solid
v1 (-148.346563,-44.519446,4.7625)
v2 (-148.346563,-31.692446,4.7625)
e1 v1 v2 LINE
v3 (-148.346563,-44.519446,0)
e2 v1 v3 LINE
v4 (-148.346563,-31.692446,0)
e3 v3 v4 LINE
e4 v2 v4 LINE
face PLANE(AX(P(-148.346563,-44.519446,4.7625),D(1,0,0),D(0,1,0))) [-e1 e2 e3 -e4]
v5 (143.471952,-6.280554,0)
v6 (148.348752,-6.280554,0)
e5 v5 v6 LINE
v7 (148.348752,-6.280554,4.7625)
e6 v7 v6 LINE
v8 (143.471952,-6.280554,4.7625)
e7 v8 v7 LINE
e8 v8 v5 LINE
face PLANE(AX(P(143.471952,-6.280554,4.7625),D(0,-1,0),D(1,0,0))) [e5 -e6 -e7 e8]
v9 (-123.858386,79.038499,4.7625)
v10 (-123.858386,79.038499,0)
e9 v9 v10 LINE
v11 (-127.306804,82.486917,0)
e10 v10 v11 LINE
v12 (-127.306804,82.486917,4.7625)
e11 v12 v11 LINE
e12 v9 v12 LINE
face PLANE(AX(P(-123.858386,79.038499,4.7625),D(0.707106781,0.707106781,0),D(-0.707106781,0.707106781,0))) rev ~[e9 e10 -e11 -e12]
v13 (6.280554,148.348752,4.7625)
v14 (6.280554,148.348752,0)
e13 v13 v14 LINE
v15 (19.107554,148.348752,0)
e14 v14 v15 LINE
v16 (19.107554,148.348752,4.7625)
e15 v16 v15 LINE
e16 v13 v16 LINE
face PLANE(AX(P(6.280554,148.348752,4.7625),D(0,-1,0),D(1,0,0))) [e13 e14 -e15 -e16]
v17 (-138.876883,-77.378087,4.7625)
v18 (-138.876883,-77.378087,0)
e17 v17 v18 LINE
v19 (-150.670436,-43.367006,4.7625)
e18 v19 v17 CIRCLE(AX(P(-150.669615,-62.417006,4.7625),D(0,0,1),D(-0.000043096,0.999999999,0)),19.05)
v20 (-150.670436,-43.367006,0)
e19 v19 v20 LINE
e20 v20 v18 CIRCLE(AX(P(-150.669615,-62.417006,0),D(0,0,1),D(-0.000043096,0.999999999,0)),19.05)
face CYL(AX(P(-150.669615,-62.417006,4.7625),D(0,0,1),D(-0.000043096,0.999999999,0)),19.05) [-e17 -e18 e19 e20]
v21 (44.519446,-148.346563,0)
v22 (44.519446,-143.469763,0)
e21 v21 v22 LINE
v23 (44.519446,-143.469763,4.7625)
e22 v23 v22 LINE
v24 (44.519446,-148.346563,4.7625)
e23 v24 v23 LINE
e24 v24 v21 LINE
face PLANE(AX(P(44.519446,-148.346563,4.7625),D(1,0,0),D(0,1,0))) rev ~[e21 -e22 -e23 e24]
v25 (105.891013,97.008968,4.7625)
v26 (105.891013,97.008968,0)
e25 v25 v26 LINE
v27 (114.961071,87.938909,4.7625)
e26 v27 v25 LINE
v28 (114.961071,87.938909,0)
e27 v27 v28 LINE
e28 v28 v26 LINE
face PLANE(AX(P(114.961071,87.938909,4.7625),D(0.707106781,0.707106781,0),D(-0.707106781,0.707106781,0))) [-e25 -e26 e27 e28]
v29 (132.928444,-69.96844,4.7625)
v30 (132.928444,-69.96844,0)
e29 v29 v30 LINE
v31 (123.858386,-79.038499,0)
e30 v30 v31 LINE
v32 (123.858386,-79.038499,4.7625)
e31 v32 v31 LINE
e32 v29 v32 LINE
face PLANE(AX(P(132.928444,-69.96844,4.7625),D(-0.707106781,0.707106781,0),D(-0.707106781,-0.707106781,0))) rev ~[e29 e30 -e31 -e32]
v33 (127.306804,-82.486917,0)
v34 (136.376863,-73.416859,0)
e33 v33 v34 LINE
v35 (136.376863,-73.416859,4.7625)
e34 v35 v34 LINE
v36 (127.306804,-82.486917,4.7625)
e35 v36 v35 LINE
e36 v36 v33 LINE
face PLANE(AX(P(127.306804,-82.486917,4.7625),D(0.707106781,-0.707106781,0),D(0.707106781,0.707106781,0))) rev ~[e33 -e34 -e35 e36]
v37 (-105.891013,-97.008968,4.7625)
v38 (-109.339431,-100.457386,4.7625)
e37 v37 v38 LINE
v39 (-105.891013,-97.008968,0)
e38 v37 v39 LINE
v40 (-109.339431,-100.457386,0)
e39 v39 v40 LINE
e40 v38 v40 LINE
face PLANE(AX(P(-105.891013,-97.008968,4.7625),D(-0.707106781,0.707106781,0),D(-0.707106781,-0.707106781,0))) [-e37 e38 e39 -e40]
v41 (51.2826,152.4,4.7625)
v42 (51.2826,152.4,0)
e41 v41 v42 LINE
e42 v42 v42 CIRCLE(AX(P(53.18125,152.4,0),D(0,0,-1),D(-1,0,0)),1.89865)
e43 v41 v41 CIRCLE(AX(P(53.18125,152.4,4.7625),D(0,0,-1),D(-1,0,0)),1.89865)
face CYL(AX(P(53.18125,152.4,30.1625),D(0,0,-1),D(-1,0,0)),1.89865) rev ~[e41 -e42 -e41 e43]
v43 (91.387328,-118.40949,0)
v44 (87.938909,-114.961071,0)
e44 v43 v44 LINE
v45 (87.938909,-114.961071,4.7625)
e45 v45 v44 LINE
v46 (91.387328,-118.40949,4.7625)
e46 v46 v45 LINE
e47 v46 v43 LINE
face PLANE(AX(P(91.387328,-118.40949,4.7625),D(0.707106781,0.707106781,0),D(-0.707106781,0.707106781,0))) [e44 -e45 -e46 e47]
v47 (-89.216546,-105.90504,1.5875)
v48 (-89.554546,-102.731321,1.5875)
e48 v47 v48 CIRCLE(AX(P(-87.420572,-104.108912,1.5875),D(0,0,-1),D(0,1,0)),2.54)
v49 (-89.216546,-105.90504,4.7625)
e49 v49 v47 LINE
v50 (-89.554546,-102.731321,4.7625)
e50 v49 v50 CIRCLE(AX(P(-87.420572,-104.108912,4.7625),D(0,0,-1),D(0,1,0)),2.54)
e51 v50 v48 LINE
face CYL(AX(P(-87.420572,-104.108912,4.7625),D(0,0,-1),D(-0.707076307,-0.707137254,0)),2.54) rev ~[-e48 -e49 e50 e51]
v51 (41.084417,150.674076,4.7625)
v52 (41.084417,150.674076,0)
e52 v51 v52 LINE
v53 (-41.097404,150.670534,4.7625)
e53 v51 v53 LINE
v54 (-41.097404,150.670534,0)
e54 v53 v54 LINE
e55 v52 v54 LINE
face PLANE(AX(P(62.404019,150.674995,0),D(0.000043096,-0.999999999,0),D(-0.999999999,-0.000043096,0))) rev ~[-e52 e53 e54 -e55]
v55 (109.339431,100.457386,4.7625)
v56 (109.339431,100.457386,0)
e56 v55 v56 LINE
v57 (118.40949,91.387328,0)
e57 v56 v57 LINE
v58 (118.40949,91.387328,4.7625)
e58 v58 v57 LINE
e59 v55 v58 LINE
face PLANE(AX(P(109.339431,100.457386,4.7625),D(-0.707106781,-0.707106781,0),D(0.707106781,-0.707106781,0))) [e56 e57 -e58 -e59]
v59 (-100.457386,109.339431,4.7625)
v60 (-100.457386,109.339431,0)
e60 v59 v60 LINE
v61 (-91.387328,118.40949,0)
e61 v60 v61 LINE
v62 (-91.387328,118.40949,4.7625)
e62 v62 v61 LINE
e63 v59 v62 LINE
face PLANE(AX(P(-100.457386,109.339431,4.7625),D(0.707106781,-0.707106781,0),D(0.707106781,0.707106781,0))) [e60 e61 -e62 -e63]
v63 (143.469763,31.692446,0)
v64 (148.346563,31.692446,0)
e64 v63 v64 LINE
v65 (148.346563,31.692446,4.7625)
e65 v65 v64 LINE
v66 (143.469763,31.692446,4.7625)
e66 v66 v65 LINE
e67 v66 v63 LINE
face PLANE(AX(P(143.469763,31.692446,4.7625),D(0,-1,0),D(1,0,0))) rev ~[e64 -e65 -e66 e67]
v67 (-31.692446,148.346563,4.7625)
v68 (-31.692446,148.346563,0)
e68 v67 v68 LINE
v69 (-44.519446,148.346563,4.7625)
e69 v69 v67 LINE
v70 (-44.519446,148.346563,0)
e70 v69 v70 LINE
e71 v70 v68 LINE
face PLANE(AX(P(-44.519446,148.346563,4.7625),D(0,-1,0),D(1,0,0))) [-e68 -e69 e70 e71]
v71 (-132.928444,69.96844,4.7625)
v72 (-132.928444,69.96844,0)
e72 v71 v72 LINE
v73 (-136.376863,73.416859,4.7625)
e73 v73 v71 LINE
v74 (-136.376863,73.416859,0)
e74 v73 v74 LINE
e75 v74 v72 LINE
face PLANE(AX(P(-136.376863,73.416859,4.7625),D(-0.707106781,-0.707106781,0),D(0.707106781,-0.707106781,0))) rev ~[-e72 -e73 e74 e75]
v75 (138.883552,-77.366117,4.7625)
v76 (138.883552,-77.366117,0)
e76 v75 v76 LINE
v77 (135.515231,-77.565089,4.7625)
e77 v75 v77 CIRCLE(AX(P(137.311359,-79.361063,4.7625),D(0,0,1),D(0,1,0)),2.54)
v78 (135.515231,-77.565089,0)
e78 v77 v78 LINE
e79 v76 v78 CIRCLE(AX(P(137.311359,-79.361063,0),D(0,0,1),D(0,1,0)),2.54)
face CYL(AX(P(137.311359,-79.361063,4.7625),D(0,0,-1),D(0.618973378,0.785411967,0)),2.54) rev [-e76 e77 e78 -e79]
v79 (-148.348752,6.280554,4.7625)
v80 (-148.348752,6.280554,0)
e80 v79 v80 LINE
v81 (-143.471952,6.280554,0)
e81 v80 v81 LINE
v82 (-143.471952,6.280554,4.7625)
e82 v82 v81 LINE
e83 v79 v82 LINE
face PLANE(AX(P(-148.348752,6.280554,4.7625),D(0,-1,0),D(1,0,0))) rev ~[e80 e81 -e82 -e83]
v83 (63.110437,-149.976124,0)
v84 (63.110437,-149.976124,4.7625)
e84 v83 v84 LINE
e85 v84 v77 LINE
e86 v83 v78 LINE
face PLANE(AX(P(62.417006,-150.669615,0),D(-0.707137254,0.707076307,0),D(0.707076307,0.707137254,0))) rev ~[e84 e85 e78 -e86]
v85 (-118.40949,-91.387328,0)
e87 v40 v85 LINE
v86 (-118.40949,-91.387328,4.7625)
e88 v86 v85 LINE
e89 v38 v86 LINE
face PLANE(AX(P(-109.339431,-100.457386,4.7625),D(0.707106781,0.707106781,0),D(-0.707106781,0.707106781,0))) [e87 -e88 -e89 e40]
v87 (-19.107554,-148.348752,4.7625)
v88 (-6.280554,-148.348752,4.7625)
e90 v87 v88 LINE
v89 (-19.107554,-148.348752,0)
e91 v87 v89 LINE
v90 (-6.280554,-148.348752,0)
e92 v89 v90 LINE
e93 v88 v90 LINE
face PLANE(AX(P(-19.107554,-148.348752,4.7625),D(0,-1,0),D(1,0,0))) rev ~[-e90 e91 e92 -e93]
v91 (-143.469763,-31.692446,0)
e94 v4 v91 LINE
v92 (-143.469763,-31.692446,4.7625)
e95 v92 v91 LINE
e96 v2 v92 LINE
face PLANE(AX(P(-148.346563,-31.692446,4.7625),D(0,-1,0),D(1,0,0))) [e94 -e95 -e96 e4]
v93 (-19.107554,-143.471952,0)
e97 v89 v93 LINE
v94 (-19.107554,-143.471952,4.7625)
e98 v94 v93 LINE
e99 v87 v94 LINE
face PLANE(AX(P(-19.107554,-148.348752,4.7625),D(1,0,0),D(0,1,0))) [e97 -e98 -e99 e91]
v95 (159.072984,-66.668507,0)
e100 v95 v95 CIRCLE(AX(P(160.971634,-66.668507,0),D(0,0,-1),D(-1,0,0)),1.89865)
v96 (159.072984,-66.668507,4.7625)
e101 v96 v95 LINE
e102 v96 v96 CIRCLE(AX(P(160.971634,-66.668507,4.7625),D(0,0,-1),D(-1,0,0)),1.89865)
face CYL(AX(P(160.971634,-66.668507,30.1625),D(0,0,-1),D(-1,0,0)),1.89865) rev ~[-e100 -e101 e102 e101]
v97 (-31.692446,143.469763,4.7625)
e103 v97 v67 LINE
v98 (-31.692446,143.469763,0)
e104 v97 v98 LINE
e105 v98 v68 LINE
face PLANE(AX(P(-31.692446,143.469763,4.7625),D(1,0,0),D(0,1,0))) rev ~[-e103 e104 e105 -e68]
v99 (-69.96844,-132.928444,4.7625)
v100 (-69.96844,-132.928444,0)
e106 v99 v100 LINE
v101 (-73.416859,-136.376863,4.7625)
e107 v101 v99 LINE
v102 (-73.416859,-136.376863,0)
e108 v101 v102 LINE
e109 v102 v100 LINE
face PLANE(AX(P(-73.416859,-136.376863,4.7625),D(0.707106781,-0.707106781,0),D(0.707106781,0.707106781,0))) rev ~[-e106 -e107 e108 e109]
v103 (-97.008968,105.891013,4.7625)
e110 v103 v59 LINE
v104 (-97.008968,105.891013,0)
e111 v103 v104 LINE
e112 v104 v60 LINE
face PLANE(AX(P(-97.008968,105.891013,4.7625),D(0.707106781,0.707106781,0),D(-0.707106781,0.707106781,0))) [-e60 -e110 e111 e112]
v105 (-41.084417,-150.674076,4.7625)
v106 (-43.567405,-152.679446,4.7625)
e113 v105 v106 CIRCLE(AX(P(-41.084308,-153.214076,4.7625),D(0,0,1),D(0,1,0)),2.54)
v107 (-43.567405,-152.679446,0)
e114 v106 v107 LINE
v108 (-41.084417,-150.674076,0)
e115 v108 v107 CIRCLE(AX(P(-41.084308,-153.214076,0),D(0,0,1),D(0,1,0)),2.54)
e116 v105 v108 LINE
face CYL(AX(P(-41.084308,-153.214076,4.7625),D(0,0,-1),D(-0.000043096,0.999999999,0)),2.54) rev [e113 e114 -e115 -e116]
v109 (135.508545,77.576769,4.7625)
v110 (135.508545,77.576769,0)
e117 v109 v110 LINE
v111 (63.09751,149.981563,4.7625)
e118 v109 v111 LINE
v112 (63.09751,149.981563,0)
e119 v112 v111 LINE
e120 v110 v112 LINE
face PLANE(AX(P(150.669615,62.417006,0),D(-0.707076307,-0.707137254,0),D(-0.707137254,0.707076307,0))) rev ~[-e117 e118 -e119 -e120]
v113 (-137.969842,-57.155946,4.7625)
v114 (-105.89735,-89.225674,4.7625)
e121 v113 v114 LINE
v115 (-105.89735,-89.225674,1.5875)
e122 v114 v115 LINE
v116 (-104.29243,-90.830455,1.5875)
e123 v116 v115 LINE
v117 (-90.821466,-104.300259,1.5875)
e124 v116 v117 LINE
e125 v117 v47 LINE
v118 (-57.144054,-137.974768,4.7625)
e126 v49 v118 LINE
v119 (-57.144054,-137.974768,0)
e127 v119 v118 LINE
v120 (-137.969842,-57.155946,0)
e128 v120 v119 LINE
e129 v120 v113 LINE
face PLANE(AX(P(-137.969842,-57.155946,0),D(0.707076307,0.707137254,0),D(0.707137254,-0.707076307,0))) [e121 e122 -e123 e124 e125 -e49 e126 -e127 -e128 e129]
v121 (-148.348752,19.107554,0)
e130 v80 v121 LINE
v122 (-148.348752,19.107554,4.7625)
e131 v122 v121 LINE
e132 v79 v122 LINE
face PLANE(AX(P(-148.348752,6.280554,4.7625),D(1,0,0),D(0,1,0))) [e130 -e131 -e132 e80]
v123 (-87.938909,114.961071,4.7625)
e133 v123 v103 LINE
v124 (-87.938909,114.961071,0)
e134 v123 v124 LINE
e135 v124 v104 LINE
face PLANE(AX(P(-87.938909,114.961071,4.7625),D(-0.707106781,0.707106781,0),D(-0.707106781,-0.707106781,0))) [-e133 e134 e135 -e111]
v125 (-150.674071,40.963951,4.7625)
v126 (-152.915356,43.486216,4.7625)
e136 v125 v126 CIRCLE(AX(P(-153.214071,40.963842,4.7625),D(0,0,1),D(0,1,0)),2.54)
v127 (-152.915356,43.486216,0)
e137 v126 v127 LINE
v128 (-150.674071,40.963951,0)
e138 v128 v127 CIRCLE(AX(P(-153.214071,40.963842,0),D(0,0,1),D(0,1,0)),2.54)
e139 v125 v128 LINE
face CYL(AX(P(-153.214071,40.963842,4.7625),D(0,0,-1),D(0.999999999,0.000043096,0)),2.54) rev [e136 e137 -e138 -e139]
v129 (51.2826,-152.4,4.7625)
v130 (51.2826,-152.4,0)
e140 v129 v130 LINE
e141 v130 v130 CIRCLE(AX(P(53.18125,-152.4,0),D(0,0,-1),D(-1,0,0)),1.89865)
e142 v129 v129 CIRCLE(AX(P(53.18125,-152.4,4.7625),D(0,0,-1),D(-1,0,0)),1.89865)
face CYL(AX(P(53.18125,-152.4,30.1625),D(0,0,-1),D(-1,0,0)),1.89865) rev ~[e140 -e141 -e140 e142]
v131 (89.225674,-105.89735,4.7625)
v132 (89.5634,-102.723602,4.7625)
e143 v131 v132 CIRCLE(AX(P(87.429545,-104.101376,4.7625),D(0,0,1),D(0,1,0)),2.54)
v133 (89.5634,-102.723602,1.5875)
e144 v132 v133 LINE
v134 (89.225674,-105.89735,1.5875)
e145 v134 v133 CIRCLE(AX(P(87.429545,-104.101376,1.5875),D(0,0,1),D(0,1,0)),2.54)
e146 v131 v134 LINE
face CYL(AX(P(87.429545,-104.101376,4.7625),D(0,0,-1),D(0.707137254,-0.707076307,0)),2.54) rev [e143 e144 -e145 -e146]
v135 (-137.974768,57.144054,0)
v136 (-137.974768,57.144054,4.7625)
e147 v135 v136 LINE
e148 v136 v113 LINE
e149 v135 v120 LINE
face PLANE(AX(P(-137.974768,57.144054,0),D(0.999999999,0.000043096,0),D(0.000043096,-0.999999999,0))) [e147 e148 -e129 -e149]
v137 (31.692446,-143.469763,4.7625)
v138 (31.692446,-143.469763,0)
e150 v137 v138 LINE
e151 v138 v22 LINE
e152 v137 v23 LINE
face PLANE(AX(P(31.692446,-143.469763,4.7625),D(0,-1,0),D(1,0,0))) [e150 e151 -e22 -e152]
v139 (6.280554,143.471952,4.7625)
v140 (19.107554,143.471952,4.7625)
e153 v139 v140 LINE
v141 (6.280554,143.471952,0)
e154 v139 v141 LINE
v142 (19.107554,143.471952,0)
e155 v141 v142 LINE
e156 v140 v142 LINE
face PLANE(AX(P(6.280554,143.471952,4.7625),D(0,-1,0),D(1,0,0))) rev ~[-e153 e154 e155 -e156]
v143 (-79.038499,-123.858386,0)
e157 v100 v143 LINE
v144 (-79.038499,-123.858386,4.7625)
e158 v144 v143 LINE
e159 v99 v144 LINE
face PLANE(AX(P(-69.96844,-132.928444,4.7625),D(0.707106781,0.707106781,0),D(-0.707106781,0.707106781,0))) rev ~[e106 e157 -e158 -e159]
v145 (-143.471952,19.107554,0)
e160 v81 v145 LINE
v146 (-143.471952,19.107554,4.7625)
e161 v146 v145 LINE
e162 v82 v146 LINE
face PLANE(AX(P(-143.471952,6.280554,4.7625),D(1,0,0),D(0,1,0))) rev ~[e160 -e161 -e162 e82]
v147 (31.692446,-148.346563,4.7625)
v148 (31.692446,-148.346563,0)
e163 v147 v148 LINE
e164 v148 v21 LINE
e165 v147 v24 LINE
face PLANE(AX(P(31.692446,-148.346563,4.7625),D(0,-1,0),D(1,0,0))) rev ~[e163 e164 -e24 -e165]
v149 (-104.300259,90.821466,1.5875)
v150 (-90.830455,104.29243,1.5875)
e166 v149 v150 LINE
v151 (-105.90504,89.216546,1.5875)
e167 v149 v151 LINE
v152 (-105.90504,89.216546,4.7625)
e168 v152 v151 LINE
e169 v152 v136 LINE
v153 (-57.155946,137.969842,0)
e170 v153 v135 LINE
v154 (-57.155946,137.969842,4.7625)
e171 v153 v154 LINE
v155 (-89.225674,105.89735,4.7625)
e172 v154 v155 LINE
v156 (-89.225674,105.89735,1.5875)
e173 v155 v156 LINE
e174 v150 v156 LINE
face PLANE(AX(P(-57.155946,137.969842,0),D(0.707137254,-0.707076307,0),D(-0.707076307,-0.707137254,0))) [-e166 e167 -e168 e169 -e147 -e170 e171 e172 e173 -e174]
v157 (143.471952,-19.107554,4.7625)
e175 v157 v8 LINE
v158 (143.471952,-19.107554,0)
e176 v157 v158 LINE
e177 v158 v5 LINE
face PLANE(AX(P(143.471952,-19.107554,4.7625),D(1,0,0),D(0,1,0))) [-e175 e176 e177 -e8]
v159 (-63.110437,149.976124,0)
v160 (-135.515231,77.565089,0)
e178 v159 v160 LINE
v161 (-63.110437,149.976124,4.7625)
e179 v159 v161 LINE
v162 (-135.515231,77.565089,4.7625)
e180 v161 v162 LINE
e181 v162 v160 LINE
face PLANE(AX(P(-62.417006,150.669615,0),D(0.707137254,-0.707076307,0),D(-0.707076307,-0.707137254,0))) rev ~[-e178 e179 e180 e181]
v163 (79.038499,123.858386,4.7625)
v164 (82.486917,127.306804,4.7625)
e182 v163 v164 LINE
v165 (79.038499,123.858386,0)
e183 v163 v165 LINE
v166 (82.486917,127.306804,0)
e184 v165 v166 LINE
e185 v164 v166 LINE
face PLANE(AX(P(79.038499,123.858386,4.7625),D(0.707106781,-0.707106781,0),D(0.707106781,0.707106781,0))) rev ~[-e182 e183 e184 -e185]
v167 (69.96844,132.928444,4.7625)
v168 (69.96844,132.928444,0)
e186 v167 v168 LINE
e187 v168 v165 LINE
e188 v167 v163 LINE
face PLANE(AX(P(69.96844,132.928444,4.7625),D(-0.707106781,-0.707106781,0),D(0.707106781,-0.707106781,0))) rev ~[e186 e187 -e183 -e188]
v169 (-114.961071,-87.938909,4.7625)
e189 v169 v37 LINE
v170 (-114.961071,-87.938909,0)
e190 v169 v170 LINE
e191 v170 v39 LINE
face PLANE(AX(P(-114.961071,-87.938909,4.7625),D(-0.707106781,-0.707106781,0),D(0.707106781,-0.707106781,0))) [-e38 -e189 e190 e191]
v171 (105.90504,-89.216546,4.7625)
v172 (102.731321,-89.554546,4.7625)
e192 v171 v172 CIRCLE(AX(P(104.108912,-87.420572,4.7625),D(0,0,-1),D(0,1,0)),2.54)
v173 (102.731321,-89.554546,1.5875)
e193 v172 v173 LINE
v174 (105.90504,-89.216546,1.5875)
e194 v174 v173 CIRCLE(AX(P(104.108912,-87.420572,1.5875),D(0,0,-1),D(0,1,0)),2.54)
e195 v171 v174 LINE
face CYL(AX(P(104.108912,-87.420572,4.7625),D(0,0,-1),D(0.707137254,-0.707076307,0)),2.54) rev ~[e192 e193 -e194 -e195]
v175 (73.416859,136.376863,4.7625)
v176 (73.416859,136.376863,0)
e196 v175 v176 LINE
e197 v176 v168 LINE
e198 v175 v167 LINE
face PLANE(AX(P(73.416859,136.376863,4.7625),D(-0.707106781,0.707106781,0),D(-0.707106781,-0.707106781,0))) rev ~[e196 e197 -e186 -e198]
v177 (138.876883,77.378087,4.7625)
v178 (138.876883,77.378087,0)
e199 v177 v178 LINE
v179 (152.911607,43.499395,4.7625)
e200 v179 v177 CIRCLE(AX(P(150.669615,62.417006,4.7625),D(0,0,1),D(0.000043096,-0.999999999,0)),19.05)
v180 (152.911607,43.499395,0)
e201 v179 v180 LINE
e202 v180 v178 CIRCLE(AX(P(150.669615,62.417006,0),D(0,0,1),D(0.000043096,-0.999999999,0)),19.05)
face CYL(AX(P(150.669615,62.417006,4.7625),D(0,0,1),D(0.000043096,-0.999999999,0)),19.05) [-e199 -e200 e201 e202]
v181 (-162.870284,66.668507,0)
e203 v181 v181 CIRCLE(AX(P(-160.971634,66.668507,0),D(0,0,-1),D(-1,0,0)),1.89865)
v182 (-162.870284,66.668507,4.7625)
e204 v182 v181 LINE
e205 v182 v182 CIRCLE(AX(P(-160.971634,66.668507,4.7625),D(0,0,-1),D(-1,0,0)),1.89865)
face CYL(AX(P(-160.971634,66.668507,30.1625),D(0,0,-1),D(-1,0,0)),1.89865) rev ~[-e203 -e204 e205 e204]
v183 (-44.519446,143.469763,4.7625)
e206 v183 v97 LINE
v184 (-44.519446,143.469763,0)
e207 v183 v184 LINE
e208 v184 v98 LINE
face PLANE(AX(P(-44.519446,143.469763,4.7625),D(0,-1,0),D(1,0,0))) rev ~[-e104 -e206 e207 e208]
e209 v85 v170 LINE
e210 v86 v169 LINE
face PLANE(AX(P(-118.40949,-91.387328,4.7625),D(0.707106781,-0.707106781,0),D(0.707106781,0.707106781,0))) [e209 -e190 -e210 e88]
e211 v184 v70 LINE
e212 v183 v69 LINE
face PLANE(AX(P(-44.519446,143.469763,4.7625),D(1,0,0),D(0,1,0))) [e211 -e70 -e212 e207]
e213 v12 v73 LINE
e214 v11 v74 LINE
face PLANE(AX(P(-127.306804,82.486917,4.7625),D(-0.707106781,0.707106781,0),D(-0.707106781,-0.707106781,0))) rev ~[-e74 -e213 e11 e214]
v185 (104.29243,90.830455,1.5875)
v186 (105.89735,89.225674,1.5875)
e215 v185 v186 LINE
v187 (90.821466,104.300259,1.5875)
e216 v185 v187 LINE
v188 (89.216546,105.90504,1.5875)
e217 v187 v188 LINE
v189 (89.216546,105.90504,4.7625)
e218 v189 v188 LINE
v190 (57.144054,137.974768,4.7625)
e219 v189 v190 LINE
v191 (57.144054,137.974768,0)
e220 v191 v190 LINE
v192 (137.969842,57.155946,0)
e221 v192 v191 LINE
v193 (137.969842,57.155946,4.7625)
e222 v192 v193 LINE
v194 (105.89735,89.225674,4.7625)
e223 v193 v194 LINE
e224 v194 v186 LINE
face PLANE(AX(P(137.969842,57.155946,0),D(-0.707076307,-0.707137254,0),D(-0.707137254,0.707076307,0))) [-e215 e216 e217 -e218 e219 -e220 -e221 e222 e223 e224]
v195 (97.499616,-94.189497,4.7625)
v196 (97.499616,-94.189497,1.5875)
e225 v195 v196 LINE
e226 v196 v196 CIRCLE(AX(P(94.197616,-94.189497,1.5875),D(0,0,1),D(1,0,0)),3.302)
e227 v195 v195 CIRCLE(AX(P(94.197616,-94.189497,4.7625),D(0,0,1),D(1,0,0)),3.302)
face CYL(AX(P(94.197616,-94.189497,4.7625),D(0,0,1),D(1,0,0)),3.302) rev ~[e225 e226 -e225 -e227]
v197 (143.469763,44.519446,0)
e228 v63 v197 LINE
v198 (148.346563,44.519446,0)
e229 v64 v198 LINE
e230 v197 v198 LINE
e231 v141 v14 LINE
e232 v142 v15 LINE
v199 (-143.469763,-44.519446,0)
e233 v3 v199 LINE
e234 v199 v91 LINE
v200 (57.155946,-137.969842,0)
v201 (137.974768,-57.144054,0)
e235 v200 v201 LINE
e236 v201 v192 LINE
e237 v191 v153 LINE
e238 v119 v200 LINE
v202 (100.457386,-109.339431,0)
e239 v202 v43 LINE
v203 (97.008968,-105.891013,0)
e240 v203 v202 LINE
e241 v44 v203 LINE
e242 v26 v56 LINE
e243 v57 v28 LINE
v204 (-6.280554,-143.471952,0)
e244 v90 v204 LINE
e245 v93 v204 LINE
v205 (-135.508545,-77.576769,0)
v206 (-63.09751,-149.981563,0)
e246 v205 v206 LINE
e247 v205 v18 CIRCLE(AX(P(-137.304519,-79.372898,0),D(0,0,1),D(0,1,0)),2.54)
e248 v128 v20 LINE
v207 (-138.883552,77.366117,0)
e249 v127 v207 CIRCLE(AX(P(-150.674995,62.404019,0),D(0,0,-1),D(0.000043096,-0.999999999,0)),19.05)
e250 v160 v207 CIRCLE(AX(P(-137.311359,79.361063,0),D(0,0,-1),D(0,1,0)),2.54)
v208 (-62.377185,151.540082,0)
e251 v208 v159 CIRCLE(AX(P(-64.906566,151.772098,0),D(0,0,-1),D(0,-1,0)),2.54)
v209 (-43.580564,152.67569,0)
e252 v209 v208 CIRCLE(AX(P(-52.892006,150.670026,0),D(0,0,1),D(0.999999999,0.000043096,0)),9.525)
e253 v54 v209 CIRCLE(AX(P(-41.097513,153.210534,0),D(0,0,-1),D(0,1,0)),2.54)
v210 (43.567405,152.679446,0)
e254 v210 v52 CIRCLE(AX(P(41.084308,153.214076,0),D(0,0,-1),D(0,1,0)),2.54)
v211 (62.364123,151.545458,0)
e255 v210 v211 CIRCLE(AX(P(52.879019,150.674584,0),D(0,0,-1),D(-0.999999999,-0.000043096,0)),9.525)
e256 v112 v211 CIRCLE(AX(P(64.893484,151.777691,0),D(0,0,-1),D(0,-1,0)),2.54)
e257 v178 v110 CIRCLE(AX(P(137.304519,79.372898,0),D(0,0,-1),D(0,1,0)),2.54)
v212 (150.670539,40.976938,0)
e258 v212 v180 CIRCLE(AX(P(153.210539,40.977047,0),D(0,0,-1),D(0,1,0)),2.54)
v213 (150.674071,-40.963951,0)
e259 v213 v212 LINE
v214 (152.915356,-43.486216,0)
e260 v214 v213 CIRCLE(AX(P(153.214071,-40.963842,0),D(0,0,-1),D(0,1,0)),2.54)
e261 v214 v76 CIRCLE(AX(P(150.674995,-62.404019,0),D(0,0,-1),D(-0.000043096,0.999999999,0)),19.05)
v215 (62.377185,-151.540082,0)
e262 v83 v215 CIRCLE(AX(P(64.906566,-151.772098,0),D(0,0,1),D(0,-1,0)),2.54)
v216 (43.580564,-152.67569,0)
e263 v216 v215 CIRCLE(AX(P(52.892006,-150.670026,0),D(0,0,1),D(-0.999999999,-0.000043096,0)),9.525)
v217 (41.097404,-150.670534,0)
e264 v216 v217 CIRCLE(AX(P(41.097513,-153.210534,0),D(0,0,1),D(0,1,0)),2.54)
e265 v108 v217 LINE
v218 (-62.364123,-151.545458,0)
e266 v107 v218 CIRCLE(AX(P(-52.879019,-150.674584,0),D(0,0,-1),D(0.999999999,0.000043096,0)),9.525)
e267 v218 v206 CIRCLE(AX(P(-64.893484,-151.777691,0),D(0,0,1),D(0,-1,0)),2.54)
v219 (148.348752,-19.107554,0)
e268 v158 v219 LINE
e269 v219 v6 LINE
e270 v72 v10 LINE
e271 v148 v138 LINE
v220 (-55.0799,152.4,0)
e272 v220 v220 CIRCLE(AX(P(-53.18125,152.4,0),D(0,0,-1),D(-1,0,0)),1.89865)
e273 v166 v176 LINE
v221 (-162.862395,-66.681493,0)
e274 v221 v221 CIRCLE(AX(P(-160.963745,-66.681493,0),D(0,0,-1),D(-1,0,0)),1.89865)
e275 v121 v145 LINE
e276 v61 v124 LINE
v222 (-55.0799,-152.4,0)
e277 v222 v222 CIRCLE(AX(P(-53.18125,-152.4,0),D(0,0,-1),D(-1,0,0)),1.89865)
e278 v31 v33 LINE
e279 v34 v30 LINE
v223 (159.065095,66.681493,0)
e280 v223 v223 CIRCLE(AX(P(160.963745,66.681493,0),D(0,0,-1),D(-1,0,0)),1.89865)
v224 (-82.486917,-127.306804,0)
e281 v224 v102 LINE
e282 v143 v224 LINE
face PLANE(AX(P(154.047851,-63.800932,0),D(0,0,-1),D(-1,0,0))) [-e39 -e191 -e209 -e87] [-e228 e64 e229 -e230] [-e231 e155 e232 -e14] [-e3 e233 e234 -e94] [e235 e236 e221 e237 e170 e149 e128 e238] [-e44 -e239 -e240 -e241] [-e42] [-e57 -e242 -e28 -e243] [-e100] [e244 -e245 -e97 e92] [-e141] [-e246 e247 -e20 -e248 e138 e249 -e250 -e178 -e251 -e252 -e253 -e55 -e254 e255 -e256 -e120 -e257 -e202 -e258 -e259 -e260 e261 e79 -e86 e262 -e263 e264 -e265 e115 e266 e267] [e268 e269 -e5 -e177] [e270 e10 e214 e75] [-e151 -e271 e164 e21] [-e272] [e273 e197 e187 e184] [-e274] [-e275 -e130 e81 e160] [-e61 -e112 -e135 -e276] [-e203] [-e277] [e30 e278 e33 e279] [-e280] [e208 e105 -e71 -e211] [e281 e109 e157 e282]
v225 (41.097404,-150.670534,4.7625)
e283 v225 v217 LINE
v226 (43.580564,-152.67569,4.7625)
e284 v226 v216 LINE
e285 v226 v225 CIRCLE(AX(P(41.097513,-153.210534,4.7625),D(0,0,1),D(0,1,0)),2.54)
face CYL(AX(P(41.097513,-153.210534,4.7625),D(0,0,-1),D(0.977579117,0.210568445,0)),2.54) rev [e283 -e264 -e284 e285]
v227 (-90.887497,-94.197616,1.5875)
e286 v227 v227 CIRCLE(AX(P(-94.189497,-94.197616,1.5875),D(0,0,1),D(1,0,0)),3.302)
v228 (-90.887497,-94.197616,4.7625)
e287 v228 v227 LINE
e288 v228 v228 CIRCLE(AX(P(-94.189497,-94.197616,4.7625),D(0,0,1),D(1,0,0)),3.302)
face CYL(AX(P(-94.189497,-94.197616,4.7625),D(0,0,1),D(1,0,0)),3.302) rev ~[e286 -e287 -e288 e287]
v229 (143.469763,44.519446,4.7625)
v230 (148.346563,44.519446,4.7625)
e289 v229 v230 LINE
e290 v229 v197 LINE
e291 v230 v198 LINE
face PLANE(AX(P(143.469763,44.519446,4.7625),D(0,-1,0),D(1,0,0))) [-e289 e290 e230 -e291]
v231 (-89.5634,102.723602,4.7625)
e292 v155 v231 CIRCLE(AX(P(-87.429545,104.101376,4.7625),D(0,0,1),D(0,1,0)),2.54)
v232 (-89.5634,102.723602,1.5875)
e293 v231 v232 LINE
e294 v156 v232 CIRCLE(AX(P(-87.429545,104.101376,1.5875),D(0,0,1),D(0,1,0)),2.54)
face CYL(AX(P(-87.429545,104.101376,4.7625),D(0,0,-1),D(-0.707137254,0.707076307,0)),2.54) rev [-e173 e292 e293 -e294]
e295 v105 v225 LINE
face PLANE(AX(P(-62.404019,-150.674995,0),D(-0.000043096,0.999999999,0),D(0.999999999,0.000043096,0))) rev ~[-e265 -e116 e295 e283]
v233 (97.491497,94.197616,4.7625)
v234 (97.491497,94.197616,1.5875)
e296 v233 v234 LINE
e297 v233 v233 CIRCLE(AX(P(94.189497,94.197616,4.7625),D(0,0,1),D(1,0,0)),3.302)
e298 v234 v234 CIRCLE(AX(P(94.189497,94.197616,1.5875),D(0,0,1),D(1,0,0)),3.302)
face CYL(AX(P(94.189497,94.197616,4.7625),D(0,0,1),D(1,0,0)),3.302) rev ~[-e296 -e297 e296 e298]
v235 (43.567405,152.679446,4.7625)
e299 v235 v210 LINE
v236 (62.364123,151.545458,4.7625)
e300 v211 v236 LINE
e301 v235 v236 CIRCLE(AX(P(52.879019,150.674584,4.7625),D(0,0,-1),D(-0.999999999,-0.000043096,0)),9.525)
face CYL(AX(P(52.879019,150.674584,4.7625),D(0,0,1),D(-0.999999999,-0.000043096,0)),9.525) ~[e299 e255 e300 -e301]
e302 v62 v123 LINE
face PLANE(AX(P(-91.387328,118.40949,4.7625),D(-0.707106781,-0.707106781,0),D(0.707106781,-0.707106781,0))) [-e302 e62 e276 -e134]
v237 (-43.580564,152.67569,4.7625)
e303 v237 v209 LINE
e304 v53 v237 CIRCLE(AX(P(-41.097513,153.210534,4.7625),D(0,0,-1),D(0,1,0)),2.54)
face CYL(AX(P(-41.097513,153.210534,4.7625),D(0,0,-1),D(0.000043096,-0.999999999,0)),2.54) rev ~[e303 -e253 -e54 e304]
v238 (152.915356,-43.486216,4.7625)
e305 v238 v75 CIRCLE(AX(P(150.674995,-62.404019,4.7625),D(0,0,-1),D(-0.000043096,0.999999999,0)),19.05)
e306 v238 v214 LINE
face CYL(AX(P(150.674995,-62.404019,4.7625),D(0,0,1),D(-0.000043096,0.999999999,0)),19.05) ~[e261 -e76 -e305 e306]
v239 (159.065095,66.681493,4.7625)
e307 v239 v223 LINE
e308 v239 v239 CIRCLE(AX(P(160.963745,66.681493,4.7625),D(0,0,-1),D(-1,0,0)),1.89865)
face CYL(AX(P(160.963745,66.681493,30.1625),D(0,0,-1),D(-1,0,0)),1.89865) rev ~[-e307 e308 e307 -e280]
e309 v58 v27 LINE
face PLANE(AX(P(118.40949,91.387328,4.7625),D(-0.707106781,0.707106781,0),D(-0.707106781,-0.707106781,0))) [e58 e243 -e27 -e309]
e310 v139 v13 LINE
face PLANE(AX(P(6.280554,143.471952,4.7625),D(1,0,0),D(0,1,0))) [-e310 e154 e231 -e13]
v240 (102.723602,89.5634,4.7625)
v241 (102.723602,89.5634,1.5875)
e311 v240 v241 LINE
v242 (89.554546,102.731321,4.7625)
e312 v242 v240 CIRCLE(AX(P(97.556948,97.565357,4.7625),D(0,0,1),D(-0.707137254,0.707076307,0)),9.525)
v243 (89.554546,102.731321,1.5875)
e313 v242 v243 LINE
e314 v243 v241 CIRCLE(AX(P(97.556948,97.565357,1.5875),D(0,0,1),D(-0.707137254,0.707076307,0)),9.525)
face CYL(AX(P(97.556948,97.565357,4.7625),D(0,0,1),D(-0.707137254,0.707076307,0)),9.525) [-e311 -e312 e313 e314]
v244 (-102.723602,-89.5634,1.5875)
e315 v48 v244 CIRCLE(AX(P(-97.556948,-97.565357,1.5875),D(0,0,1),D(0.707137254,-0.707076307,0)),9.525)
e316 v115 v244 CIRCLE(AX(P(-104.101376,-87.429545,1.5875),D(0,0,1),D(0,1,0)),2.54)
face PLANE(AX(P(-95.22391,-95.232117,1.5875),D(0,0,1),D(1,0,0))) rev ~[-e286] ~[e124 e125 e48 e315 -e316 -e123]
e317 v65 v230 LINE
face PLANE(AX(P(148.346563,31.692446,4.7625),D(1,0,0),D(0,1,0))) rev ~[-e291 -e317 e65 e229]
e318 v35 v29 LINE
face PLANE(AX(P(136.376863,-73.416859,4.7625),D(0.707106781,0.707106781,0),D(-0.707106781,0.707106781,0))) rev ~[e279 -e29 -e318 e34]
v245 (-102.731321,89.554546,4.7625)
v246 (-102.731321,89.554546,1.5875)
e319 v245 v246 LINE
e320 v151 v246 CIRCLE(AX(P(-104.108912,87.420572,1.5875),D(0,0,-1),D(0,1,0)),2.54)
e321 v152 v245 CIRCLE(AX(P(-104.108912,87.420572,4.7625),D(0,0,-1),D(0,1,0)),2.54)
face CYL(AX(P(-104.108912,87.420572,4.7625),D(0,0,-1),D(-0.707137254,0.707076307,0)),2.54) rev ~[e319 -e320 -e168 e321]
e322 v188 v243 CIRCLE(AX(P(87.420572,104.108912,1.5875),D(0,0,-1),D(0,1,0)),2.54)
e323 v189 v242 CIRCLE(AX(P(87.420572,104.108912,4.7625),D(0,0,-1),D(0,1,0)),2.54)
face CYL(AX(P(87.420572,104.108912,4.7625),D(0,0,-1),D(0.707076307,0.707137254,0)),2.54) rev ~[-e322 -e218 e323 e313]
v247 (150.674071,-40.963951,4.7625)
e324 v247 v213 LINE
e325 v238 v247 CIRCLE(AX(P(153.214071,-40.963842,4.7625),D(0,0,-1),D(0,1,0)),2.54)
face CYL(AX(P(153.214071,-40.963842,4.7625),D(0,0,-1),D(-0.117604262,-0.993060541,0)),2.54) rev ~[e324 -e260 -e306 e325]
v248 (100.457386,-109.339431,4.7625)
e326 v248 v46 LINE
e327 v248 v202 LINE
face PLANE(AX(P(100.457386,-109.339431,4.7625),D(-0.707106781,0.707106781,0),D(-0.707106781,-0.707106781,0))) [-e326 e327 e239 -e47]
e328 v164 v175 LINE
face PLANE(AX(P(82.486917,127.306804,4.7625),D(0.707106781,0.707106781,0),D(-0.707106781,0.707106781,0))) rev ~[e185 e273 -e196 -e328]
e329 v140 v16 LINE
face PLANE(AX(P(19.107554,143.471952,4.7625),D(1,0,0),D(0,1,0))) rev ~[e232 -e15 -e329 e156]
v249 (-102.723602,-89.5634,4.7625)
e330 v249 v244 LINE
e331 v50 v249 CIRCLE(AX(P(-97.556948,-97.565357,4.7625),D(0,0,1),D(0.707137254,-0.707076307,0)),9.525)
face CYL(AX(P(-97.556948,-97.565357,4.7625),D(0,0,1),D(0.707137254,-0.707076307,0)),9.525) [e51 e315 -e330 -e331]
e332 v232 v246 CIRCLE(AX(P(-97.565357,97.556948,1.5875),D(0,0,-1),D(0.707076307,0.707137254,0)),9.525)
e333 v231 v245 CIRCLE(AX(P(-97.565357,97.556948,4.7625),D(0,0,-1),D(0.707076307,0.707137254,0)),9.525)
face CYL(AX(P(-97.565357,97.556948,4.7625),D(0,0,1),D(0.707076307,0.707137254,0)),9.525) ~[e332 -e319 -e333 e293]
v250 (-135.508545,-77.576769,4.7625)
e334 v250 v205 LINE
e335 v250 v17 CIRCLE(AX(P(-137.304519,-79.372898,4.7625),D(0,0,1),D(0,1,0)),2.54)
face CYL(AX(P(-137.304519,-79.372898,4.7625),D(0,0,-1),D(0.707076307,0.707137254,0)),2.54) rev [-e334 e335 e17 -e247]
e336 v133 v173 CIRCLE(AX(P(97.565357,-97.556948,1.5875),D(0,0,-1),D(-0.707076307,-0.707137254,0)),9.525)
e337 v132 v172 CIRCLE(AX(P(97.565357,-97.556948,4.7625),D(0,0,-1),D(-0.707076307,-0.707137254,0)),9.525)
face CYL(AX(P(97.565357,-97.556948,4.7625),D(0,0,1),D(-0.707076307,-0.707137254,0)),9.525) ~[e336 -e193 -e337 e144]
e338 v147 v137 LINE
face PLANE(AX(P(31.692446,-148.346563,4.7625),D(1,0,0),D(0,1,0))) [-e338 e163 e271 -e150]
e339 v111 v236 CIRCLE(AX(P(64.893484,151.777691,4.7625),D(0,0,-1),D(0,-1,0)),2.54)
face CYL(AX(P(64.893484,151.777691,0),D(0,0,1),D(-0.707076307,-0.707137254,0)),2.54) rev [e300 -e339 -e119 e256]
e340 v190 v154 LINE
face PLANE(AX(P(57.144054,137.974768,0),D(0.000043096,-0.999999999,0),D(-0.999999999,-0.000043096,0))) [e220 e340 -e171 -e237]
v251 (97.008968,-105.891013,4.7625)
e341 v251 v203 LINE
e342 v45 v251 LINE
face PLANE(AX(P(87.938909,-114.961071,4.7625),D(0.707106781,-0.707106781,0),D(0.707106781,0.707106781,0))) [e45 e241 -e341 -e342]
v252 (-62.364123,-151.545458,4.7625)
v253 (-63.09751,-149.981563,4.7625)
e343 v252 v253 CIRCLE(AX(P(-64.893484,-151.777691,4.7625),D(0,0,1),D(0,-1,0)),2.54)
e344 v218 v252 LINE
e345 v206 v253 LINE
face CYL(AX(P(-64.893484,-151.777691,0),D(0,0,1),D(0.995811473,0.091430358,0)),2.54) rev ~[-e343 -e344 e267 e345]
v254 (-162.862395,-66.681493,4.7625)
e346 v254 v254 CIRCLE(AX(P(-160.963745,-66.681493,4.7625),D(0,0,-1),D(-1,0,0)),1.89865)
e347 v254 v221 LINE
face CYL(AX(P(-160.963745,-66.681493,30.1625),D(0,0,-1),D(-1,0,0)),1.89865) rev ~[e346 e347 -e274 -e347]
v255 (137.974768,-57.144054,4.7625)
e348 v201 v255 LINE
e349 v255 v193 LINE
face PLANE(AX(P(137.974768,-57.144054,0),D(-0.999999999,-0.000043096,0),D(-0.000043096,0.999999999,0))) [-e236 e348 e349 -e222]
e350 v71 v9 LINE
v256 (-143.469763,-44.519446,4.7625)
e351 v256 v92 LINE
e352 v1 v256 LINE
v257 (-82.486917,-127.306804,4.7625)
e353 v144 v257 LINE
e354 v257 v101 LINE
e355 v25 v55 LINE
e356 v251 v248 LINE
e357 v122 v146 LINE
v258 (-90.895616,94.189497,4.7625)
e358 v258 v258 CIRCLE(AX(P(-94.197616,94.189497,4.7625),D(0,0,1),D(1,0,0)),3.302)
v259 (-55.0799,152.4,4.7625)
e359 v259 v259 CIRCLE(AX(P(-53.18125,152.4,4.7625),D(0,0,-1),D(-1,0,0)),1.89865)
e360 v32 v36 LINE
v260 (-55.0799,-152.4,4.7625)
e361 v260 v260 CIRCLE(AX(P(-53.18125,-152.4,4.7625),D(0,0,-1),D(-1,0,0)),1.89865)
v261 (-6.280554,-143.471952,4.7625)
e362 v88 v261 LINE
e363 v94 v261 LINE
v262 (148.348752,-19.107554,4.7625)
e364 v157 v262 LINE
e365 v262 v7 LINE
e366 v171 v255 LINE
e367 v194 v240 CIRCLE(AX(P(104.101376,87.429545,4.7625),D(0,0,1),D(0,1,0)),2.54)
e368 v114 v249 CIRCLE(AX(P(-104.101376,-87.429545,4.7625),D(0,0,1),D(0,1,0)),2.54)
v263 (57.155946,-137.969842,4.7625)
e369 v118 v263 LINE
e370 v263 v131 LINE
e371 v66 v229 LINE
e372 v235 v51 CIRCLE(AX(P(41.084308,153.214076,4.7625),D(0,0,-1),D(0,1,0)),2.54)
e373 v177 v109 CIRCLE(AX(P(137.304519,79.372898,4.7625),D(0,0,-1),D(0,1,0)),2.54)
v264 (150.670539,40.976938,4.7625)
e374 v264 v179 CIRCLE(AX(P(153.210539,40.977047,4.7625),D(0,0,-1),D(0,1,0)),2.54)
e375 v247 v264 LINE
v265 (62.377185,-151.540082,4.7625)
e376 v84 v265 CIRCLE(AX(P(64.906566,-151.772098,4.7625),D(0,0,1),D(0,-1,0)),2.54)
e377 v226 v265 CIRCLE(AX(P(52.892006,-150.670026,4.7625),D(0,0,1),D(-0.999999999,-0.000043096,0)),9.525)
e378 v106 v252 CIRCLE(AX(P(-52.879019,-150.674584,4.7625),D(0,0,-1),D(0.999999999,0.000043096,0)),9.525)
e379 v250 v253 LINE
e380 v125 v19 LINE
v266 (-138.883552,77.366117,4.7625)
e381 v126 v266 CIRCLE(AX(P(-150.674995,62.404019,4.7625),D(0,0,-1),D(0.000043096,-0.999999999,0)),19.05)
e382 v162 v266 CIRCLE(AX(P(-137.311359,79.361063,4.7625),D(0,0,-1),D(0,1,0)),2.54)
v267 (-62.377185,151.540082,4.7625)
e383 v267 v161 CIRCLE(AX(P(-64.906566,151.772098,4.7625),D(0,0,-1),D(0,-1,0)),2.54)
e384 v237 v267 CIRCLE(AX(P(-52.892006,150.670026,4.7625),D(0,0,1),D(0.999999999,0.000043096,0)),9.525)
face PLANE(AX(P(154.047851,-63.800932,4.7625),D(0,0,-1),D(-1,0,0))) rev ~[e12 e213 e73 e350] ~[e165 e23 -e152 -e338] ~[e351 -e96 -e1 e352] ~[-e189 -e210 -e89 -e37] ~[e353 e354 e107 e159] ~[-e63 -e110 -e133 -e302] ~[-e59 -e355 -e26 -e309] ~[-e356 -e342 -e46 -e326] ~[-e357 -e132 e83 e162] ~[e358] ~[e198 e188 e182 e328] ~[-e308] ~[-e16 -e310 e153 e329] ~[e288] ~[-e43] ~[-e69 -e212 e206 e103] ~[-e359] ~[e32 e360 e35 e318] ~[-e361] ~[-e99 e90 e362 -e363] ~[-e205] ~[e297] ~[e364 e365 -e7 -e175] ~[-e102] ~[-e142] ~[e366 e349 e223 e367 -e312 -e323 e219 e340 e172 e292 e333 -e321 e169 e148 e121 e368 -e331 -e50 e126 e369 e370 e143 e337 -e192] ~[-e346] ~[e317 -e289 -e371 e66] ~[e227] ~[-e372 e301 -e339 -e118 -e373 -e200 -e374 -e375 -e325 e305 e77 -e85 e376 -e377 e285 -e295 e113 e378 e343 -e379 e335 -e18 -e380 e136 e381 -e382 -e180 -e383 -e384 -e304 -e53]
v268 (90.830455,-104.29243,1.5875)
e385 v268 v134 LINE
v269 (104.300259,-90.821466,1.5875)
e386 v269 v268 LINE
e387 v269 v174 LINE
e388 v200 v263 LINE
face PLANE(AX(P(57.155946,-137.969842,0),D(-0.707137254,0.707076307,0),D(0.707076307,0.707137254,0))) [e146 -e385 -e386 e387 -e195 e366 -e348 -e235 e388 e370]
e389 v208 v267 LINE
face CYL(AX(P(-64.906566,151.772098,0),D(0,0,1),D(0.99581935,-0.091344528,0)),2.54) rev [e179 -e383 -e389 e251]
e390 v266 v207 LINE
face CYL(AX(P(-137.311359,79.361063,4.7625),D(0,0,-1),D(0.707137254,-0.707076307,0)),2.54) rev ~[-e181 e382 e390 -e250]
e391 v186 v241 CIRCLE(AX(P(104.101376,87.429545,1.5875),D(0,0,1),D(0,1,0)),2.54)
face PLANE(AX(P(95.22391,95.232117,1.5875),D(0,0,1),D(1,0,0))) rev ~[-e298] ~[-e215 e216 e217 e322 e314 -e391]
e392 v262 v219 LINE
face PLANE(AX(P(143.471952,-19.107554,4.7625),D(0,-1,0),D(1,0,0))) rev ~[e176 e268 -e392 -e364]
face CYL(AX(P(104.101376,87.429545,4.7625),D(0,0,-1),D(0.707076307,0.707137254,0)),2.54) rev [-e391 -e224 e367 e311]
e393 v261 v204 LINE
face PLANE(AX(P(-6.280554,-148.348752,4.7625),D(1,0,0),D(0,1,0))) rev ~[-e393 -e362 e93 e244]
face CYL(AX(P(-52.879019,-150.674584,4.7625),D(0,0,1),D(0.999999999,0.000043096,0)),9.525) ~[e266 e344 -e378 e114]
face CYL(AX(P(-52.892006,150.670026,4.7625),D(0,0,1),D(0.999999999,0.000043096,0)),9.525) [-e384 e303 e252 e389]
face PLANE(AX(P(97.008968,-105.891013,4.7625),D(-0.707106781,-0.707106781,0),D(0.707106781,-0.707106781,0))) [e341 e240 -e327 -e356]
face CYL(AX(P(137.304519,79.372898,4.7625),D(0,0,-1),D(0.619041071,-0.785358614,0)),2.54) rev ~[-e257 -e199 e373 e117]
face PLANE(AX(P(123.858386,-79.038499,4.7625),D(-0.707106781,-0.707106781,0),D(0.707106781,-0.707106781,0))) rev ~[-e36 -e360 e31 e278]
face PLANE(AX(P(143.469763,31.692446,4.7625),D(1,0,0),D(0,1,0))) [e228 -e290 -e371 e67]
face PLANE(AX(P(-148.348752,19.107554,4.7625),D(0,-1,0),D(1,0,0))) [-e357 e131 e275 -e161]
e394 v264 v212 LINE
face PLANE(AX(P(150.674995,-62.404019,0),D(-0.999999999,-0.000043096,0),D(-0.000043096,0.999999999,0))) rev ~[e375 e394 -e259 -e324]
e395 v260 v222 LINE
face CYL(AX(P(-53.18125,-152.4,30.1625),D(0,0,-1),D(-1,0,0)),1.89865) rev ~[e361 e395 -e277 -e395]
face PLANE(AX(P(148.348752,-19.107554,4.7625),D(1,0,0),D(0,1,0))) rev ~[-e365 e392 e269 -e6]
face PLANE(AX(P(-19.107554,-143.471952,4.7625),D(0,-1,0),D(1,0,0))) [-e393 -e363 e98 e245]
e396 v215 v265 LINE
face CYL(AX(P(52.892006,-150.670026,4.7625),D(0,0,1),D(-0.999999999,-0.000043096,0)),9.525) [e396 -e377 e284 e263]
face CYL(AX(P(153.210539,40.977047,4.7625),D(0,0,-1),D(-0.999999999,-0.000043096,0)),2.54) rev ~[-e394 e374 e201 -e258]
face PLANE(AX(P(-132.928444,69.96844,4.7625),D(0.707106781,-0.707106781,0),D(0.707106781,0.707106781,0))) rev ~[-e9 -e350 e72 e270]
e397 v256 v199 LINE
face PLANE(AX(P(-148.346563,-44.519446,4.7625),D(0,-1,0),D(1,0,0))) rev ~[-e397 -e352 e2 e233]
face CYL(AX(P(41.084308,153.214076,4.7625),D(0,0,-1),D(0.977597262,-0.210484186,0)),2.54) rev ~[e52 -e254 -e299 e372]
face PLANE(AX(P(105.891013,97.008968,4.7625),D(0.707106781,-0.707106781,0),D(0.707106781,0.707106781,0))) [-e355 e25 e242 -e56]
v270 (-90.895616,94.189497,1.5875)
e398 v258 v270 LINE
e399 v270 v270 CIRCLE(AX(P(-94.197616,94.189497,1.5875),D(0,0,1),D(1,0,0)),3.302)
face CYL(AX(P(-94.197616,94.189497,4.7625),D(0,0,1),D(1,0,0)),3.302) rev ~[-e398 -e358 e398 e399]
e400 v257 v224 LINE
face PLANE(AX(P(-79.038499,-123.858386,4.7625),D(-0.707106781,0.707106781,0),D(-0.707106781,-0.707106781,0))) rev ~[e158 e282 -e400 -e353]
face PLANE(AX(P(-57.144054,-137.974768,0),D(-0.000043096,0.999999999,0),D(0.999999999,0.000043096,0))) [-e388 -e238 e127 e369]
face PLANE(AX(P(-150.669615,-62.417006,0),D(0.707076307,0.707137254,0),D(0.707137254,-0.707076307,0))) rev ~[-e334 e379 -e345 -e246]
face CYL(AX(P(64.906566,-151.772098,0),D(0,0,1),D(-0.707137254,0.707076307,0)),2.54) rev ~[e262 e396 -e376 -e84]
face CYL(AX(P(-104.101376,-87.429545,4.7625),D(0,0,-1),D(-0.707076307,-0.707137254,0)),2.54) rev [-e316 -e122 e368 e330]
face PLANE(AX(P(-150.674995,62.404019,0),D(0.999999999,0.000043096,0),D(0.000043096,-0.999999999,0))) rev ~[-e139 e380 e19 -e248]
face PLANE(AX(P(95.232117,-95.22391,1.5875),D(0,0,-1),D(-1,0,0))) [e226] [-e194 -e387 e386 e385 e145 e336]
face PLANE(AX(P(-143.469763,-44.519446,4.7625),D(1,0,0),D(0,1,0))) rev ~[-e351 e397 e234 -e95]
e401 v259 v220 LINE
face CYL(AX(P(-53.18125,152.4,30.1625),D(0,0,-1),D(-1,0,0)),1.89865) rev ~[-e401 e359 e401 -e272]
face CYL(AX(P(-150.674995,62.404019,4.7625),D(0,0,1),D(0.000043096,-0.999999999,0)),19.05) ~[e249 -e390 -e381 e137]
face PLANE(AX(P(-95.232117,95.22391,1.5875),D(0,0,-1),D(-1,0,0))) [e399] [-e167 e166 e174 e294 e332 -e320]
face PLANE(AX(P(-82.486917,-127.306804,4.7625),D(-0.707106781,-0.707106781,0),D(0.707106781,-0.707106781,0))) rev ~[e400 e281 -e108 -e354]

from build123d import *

# Parameters (mm, degrees)
BOSS_EXTRUDE1_DEPTH       = 4.7625
SKETCH2_R                 = 3.302
BOSS_EXTRUDE2_DEPTH       = 3.175
SKETCH3_W                 = 12.827
SKETCH3_H                 = 4.8768
SKETCH3_W_2               = 4.8768
SKETCH3_H_2               = 12.827
PANEL_SLOTS_DEPTH         = 5.7625
BOSS_EXTRUDE8_DEPTH       = 4.7625
F_6_CLEARANCE_HOLE2_D     = 3.7973
F_6_CLEARANCE_HOLE2_DEPTH = 25.4
F_6_CLEARANCE_HOLE2_TIP   = 1.140824014
BOSS_EXTRUDE9_DEPTH       = 4.7625
F_6_CLEARANCE_HOLE3_D     = 3.7973
F_6_CLEARANCE_HOLE3_DEPTH = 25.4
F_6_CLEARANCE_HOLE3_TIP   = 1.140824014
FILLET1_R                 = 2.54
FILLET2_R                 = 2.54


with BuildPart() as part:
    # Sketch1 → Boss-Extrude1 (new body)
    with BuildSketch(Plane.XY):
        Polygon((-150.669615327, -62.417005507), (-62.404018861, -150.674994572), (62.417005507, -150.669615327), (150.674994572, -62.404018861), (150.669615327, 62.417005507), (62.404018861, 150.674994572), (-62.417005507, 150.669615327), (-150.674994572, 62.404018861), align=None)
        Polygon((-137.969842044, -57.155945955), (-57.144053939, -137.974767879), (57.155945955, -137.969842044), (137.974767879, -57.144053939), (137.969842044, 57.155945955), (57.144053939, 137.974767879), (-57.155945955, 137.969842044), (-137.974767879, 57.144053939), align=None, mode=Mode.SUBTRACT)
    extrude(amount=BOSS_EXTRUDE1_DEPTH)

    # Sketch2 → Boss-Extrude2 (add)
    with BuildSketch(Plane.XY.offset(4.7625)):
        with BuildLine():
            Line((-104.300258744, 90.821465649), (-90.83045509, 104.292430334))
            ThreePointArc((-90.83045509, 104.292430334), (-90.829874575, 90.822046164), (-104.300258744, 90.821465649))
        make_face()
        with Locations((-94.197615746, 94.189497078)):
            Circle(SKETCH2_R, mode=Mode.SUBTRACT)
        with BuildLine():
            Line((104.292430334, 90.83045509), (90.821465649, 104.300258744))
            ThreePointArc((90.821465649, 104.300258744), (90.822046164, 90.829874575), (104.292430334, 90.83045509))
        make_face()
        with Locations((94.189497078, 94.197615746)):
            Circle(SKETCH2_R, mode=Mode.SUBTRACT)
        with BuildLine():
            Line((104.300258744, -90.821465649), (90.83045509, -104.292430334))
            ThreePointArc((90.83045509, -104.292430334), (90.829874575, -90.822046164), (104.300258744, -90.821465649))
        make_face()
        with Locations((94.197615746, -94.189497078)):
            Circle(SKETCH2_R, mode=Mode.SUBTRACT)
        with BuildLine():
            Line((-104.292430334, -90.83045509), (-90.821465649, -104.300258744))
            ThreePointArc((-90.821465649, -104.300258744), (-90.822046164, -90.829874575), (-104.292430334, -90.83045509))
        make_face()
        with Locations((-94.189497078, -94.197615746)):
            Circle(SKETCH2_R, mode=Mode.SUBTRACT)
    extrude(amount=-BOSS_EXTRUDE2_DEPTH)

    # Sketch3 → Panel Slots (cut, through all)
    with BuildSketch(Plane.XY.offset(4.7625)):
        with Locations((-38.105945973, 145.908163017)):
            Rectangle(SKETCH3_W, SKETCH3_H)
        with Locations((12.69405398, 145.910352276)):
            Rectangle(SKETCH3_W, SKETCH3_H)
        Polygon((82.486917215, 127.306804135), (73.416858533, 136.376862817), (69.968440182, 132.928444466), (79.038498864, 123.858385784), align=None)
        Polygon((114.961071356, 87.938909374), (105.891012674, 97.008968056), (109.339431024, 100.457386406), (118.409489706, 91.387327724), align=None)
        with Locations((145.908163017, 38.105945973)):
            Rectangle(SKETCH3_W_2, SKETCH3_H_2)
        with Locations((145.910352276, -12.69405398)):
            Rectangle(SKETCH3_W_2, SKETCH3_H_2)
        Polygon((127.306804135, -82.486917215), (136.376862817, -73.416858533), (132.928444466, -69.968440182), (123.858385784, -79.038498864), align=None)
        Polygon((87.938909374, -114.961071356), (97.008968056, -105.891012674), (100.457386406, -109.339431024), (91.387327724, -118.409489706), align=None)
        with Locations((38.105945973, -145.908163017)):
            Rectangle(SKETCH3_W, SKETCH3_H)
        with Locations((-12.69405398, -145.910352276)):
            Rectangle(SKETCH3_W, SKETCH3_H)
        Polygon((-82.486917215, -127.306804135), (-73.416858533, -136.376862817), (-69.968440182, -132.928444466), (-79.038498864, -123.858385784), align=None)
        Polygon((-114.961071356, -87.938909374), (-105.891012674, -97.008968056), (-109.339431024, -100.457386406), (-118.409489706, -91.387327724), align=None)
        with Locations((-145.908163017, -38.105945973)):
            Rectangle(SKETCH3_W_2, SKETCH3_H_2)
        with Locations((-145.910352276, 12.69405398)):
            Rectangle(SKETCH3_W_2, SKETCH3_H_2)
        Polygon((-127.306804135, 82.486917215), (-136.376862817, 73.416858533), (-132.928444466, 69.968440182), (-123.858385784, 79.038498864), align=None)
        Polygon((-87.938909374, 114.961071356), (-97.008968056, 105.891012674), (-100.457386406, 109.339431024), (-91.387327724, 118.409489706), align=None)
    extrude(amount=-PANEL_SLOTS_DEPTH, mode=Mode.SUBTRACT)

    # Sketch9 → Boss-Extrude8 (add)
    with BuildSketch(Plane.XY.offset(4.7625)):
        with BuildLine():
            Line((-62.417005507, 150.669615327), (-43.367005525, 150.6704363))
            ThreePointArc((-43.367005525, 150.6704363), (-52.892416003, 160.195025805), (-62.417005507, 150.669615327))
        make_face()
        with BuildLine():
            Line((62.404018861, 150.674994572), (43.354018879, 150.6741736))
            ThreePointArc((43.354018879, 150.6741736), (52.878608384, 160.199584077), (62.404018861, 150.674994572))
        make_face()
        with BuildLine():
            Line((62.417005507, -150.669615327), (43.367005525, -150.6704363))
            ThreePointArc((43.367005525, -150.6704363), (52.892416003, -160.195025805), (62.417005507, -150.669615327))
        make_face()
        with BuildLine():
            Line((-62.404018861, -150.674994572), (-43.354018879, -150.6741736))
            ThreePointArc((-43.354018879, -150.6741736), (-52.878608384, -160.199584077), (-62.404018861, -150.674994572))
        make_face()
    extrude(amount=-BOSS_EXTRUDE8_DEPTH)

    # #6 Clearance Hole2
    with Locations(Plane.XY.offset(4.7625)):
        with Locations((-53.18125, 152.4), (53.18125, 152.4), (53.18125, -152.4), (-53.18125, -152.4), (0, 0)):
            Hole(F_6_CLEARANCE_HOLE2_D / 2, depth=F_6_CLEARANCE_HOLE2_DEPTH)
            with Locations((0, 0, -(F_6_CLEARANCE_HOLE2_DEPTH + F_6_CLEARANCE_HOLE2_TIP / 2))):  # 118° drill point
                Cone(0, F_6_CLEARANCE_HOLE2_D / 2, F_6_CLEARANCE_HOLE2_TIP, mode=Mode.SUBTRACT)

    # Sketch13 → Boss-Extrude9 (add)
    with BuildSketch(Plane.XY.offset(4.7625)):
        with BuildLine():
            Line((137.205190918, -75.874983545), (150.674994572, -62.404018861))
            Line((150.674994572, -62.404018861), (150.6741736, -43.354018879))
            ThreePointArc((150.6741736, -43.354018879), (168.275213823, -69.693379761), (137.205190918, -75.874983545))
        make_face()
        with BuildLine():
            Line((137.198650643, 75.886809161), (150.669615327, 62.417005507))
            Line((150.669615327, 62.417005507), (150.6704363, 43.367005525))
            ThreePointArc((150.6704363, 43.367005525), (168.269206233, 69.707883367), (137.198650643, 75.886809161))
        make_face()
        with BuildLine():
            Line((-150.674994581, 62.404018861), (-150.674173609, 43.354018879))
            ThreePointArc((-150.674173609, 43.354018879), (-168.275213832, 69.693379761), (-137.205190927, 75.874983545))
            Line((-137.205190927, 75.874983545), (-150.674994581, 62.404018861))
        make_face()
        with BuildLine():
            Line((-150.669615336, -62.417005507), (-150.670436308, -43.367005525))
            ThreePointArc((-150.670436308, -43.367005525), (-168.269206241, -69.707883367), (-137.198650652, -75.886809161))
            Line((-137.198650652, -75.886809161), (-150.669615336, -62.417005507))
        make_face()
    extrude(amount=-BOSS_EXTRUDE9_DEPTH)

    # #6 Clearance Hole3
    with Locations(Plane.XY.offset(4.7625)):
        with Locations((160.963744866, 66.681493332), (160.971633964, -66.668506668), (-160.963744823, -66.681493314), (-160.971634093, 66.668506686)):
            Hole(F_6_CLEARANCE_HOLE3_D / 2, depth=F_6_CLEARANCE_HOLE3_DEPTH)
            with Locations((0, 0, -(F_6_CLEARANCE_HOLE3_DEPTH + F_6_CLEARANCE_HOLE3_TIP / 2))):  # 118° drill point
                Cone(0, F_6_CLEARANCE_HOLE3_D / 2, F_6_CLEARANCE_HOLE3_TIP, mode=Mode.SUBTRACT)

    # Fillet1
    fillet1_edges = [part.edges().sort_by_distance(p)[0] for p in [
        (-62.417005507, 150.669615327, 2.38125),
        (62.404018861, 150.674994572, 2.38125),
        (62.417005507, -150.669615327, 2.38125),
        (-62.404018861, -150.674994572, 2.38125),
        (-43.367005525, 150.6704363, 2.38125),
        (43.354018879, 150.6741736, 2.38125),
        (43.367005525, -150.6704363, 2.38125),
        (-43.354018879, -150.6741736, 2.38125),
        (150.6704363, 43.367005525, 2.38125),
        (137.198650643, 75.886809161, 2.38125),
        (150.6741736, -43.354018879, 2.38125),
        (137.205190918, -75.874983545, 2.38125),
        (-137.198650652, -75.886809161, 2.38125),
        (-137.205190927, 75.874983545, 2.38125),
        (-150.674173609, 43.354018879, 2.38125),
    ]]
    fillet(fillet1_edges, radius=FILLET1_R)

    # Fillet2
    fillet2_edges = [part.edges().sort_by_distance(p)[0] for p in [
        (-90.83045509, 104.292430334, 3.175),
        (-104.300258744, 90.821465649, 3.175),
        (104.292430334, 90.83045509, 3.175),
        (90.821465649, 104.300258744, 3.175),
        (90.83045509, -104.292430334, 3.175),
        (104.300258744, -90.821465649, 3.175),
        (-104.292430334, -90.83045509, 3.175),
        (-90.821465649, -104.300258744, 3.175),
    ]]
    fillet(fillet2_edges, radius=FILLET2_R)


solid = part.part
